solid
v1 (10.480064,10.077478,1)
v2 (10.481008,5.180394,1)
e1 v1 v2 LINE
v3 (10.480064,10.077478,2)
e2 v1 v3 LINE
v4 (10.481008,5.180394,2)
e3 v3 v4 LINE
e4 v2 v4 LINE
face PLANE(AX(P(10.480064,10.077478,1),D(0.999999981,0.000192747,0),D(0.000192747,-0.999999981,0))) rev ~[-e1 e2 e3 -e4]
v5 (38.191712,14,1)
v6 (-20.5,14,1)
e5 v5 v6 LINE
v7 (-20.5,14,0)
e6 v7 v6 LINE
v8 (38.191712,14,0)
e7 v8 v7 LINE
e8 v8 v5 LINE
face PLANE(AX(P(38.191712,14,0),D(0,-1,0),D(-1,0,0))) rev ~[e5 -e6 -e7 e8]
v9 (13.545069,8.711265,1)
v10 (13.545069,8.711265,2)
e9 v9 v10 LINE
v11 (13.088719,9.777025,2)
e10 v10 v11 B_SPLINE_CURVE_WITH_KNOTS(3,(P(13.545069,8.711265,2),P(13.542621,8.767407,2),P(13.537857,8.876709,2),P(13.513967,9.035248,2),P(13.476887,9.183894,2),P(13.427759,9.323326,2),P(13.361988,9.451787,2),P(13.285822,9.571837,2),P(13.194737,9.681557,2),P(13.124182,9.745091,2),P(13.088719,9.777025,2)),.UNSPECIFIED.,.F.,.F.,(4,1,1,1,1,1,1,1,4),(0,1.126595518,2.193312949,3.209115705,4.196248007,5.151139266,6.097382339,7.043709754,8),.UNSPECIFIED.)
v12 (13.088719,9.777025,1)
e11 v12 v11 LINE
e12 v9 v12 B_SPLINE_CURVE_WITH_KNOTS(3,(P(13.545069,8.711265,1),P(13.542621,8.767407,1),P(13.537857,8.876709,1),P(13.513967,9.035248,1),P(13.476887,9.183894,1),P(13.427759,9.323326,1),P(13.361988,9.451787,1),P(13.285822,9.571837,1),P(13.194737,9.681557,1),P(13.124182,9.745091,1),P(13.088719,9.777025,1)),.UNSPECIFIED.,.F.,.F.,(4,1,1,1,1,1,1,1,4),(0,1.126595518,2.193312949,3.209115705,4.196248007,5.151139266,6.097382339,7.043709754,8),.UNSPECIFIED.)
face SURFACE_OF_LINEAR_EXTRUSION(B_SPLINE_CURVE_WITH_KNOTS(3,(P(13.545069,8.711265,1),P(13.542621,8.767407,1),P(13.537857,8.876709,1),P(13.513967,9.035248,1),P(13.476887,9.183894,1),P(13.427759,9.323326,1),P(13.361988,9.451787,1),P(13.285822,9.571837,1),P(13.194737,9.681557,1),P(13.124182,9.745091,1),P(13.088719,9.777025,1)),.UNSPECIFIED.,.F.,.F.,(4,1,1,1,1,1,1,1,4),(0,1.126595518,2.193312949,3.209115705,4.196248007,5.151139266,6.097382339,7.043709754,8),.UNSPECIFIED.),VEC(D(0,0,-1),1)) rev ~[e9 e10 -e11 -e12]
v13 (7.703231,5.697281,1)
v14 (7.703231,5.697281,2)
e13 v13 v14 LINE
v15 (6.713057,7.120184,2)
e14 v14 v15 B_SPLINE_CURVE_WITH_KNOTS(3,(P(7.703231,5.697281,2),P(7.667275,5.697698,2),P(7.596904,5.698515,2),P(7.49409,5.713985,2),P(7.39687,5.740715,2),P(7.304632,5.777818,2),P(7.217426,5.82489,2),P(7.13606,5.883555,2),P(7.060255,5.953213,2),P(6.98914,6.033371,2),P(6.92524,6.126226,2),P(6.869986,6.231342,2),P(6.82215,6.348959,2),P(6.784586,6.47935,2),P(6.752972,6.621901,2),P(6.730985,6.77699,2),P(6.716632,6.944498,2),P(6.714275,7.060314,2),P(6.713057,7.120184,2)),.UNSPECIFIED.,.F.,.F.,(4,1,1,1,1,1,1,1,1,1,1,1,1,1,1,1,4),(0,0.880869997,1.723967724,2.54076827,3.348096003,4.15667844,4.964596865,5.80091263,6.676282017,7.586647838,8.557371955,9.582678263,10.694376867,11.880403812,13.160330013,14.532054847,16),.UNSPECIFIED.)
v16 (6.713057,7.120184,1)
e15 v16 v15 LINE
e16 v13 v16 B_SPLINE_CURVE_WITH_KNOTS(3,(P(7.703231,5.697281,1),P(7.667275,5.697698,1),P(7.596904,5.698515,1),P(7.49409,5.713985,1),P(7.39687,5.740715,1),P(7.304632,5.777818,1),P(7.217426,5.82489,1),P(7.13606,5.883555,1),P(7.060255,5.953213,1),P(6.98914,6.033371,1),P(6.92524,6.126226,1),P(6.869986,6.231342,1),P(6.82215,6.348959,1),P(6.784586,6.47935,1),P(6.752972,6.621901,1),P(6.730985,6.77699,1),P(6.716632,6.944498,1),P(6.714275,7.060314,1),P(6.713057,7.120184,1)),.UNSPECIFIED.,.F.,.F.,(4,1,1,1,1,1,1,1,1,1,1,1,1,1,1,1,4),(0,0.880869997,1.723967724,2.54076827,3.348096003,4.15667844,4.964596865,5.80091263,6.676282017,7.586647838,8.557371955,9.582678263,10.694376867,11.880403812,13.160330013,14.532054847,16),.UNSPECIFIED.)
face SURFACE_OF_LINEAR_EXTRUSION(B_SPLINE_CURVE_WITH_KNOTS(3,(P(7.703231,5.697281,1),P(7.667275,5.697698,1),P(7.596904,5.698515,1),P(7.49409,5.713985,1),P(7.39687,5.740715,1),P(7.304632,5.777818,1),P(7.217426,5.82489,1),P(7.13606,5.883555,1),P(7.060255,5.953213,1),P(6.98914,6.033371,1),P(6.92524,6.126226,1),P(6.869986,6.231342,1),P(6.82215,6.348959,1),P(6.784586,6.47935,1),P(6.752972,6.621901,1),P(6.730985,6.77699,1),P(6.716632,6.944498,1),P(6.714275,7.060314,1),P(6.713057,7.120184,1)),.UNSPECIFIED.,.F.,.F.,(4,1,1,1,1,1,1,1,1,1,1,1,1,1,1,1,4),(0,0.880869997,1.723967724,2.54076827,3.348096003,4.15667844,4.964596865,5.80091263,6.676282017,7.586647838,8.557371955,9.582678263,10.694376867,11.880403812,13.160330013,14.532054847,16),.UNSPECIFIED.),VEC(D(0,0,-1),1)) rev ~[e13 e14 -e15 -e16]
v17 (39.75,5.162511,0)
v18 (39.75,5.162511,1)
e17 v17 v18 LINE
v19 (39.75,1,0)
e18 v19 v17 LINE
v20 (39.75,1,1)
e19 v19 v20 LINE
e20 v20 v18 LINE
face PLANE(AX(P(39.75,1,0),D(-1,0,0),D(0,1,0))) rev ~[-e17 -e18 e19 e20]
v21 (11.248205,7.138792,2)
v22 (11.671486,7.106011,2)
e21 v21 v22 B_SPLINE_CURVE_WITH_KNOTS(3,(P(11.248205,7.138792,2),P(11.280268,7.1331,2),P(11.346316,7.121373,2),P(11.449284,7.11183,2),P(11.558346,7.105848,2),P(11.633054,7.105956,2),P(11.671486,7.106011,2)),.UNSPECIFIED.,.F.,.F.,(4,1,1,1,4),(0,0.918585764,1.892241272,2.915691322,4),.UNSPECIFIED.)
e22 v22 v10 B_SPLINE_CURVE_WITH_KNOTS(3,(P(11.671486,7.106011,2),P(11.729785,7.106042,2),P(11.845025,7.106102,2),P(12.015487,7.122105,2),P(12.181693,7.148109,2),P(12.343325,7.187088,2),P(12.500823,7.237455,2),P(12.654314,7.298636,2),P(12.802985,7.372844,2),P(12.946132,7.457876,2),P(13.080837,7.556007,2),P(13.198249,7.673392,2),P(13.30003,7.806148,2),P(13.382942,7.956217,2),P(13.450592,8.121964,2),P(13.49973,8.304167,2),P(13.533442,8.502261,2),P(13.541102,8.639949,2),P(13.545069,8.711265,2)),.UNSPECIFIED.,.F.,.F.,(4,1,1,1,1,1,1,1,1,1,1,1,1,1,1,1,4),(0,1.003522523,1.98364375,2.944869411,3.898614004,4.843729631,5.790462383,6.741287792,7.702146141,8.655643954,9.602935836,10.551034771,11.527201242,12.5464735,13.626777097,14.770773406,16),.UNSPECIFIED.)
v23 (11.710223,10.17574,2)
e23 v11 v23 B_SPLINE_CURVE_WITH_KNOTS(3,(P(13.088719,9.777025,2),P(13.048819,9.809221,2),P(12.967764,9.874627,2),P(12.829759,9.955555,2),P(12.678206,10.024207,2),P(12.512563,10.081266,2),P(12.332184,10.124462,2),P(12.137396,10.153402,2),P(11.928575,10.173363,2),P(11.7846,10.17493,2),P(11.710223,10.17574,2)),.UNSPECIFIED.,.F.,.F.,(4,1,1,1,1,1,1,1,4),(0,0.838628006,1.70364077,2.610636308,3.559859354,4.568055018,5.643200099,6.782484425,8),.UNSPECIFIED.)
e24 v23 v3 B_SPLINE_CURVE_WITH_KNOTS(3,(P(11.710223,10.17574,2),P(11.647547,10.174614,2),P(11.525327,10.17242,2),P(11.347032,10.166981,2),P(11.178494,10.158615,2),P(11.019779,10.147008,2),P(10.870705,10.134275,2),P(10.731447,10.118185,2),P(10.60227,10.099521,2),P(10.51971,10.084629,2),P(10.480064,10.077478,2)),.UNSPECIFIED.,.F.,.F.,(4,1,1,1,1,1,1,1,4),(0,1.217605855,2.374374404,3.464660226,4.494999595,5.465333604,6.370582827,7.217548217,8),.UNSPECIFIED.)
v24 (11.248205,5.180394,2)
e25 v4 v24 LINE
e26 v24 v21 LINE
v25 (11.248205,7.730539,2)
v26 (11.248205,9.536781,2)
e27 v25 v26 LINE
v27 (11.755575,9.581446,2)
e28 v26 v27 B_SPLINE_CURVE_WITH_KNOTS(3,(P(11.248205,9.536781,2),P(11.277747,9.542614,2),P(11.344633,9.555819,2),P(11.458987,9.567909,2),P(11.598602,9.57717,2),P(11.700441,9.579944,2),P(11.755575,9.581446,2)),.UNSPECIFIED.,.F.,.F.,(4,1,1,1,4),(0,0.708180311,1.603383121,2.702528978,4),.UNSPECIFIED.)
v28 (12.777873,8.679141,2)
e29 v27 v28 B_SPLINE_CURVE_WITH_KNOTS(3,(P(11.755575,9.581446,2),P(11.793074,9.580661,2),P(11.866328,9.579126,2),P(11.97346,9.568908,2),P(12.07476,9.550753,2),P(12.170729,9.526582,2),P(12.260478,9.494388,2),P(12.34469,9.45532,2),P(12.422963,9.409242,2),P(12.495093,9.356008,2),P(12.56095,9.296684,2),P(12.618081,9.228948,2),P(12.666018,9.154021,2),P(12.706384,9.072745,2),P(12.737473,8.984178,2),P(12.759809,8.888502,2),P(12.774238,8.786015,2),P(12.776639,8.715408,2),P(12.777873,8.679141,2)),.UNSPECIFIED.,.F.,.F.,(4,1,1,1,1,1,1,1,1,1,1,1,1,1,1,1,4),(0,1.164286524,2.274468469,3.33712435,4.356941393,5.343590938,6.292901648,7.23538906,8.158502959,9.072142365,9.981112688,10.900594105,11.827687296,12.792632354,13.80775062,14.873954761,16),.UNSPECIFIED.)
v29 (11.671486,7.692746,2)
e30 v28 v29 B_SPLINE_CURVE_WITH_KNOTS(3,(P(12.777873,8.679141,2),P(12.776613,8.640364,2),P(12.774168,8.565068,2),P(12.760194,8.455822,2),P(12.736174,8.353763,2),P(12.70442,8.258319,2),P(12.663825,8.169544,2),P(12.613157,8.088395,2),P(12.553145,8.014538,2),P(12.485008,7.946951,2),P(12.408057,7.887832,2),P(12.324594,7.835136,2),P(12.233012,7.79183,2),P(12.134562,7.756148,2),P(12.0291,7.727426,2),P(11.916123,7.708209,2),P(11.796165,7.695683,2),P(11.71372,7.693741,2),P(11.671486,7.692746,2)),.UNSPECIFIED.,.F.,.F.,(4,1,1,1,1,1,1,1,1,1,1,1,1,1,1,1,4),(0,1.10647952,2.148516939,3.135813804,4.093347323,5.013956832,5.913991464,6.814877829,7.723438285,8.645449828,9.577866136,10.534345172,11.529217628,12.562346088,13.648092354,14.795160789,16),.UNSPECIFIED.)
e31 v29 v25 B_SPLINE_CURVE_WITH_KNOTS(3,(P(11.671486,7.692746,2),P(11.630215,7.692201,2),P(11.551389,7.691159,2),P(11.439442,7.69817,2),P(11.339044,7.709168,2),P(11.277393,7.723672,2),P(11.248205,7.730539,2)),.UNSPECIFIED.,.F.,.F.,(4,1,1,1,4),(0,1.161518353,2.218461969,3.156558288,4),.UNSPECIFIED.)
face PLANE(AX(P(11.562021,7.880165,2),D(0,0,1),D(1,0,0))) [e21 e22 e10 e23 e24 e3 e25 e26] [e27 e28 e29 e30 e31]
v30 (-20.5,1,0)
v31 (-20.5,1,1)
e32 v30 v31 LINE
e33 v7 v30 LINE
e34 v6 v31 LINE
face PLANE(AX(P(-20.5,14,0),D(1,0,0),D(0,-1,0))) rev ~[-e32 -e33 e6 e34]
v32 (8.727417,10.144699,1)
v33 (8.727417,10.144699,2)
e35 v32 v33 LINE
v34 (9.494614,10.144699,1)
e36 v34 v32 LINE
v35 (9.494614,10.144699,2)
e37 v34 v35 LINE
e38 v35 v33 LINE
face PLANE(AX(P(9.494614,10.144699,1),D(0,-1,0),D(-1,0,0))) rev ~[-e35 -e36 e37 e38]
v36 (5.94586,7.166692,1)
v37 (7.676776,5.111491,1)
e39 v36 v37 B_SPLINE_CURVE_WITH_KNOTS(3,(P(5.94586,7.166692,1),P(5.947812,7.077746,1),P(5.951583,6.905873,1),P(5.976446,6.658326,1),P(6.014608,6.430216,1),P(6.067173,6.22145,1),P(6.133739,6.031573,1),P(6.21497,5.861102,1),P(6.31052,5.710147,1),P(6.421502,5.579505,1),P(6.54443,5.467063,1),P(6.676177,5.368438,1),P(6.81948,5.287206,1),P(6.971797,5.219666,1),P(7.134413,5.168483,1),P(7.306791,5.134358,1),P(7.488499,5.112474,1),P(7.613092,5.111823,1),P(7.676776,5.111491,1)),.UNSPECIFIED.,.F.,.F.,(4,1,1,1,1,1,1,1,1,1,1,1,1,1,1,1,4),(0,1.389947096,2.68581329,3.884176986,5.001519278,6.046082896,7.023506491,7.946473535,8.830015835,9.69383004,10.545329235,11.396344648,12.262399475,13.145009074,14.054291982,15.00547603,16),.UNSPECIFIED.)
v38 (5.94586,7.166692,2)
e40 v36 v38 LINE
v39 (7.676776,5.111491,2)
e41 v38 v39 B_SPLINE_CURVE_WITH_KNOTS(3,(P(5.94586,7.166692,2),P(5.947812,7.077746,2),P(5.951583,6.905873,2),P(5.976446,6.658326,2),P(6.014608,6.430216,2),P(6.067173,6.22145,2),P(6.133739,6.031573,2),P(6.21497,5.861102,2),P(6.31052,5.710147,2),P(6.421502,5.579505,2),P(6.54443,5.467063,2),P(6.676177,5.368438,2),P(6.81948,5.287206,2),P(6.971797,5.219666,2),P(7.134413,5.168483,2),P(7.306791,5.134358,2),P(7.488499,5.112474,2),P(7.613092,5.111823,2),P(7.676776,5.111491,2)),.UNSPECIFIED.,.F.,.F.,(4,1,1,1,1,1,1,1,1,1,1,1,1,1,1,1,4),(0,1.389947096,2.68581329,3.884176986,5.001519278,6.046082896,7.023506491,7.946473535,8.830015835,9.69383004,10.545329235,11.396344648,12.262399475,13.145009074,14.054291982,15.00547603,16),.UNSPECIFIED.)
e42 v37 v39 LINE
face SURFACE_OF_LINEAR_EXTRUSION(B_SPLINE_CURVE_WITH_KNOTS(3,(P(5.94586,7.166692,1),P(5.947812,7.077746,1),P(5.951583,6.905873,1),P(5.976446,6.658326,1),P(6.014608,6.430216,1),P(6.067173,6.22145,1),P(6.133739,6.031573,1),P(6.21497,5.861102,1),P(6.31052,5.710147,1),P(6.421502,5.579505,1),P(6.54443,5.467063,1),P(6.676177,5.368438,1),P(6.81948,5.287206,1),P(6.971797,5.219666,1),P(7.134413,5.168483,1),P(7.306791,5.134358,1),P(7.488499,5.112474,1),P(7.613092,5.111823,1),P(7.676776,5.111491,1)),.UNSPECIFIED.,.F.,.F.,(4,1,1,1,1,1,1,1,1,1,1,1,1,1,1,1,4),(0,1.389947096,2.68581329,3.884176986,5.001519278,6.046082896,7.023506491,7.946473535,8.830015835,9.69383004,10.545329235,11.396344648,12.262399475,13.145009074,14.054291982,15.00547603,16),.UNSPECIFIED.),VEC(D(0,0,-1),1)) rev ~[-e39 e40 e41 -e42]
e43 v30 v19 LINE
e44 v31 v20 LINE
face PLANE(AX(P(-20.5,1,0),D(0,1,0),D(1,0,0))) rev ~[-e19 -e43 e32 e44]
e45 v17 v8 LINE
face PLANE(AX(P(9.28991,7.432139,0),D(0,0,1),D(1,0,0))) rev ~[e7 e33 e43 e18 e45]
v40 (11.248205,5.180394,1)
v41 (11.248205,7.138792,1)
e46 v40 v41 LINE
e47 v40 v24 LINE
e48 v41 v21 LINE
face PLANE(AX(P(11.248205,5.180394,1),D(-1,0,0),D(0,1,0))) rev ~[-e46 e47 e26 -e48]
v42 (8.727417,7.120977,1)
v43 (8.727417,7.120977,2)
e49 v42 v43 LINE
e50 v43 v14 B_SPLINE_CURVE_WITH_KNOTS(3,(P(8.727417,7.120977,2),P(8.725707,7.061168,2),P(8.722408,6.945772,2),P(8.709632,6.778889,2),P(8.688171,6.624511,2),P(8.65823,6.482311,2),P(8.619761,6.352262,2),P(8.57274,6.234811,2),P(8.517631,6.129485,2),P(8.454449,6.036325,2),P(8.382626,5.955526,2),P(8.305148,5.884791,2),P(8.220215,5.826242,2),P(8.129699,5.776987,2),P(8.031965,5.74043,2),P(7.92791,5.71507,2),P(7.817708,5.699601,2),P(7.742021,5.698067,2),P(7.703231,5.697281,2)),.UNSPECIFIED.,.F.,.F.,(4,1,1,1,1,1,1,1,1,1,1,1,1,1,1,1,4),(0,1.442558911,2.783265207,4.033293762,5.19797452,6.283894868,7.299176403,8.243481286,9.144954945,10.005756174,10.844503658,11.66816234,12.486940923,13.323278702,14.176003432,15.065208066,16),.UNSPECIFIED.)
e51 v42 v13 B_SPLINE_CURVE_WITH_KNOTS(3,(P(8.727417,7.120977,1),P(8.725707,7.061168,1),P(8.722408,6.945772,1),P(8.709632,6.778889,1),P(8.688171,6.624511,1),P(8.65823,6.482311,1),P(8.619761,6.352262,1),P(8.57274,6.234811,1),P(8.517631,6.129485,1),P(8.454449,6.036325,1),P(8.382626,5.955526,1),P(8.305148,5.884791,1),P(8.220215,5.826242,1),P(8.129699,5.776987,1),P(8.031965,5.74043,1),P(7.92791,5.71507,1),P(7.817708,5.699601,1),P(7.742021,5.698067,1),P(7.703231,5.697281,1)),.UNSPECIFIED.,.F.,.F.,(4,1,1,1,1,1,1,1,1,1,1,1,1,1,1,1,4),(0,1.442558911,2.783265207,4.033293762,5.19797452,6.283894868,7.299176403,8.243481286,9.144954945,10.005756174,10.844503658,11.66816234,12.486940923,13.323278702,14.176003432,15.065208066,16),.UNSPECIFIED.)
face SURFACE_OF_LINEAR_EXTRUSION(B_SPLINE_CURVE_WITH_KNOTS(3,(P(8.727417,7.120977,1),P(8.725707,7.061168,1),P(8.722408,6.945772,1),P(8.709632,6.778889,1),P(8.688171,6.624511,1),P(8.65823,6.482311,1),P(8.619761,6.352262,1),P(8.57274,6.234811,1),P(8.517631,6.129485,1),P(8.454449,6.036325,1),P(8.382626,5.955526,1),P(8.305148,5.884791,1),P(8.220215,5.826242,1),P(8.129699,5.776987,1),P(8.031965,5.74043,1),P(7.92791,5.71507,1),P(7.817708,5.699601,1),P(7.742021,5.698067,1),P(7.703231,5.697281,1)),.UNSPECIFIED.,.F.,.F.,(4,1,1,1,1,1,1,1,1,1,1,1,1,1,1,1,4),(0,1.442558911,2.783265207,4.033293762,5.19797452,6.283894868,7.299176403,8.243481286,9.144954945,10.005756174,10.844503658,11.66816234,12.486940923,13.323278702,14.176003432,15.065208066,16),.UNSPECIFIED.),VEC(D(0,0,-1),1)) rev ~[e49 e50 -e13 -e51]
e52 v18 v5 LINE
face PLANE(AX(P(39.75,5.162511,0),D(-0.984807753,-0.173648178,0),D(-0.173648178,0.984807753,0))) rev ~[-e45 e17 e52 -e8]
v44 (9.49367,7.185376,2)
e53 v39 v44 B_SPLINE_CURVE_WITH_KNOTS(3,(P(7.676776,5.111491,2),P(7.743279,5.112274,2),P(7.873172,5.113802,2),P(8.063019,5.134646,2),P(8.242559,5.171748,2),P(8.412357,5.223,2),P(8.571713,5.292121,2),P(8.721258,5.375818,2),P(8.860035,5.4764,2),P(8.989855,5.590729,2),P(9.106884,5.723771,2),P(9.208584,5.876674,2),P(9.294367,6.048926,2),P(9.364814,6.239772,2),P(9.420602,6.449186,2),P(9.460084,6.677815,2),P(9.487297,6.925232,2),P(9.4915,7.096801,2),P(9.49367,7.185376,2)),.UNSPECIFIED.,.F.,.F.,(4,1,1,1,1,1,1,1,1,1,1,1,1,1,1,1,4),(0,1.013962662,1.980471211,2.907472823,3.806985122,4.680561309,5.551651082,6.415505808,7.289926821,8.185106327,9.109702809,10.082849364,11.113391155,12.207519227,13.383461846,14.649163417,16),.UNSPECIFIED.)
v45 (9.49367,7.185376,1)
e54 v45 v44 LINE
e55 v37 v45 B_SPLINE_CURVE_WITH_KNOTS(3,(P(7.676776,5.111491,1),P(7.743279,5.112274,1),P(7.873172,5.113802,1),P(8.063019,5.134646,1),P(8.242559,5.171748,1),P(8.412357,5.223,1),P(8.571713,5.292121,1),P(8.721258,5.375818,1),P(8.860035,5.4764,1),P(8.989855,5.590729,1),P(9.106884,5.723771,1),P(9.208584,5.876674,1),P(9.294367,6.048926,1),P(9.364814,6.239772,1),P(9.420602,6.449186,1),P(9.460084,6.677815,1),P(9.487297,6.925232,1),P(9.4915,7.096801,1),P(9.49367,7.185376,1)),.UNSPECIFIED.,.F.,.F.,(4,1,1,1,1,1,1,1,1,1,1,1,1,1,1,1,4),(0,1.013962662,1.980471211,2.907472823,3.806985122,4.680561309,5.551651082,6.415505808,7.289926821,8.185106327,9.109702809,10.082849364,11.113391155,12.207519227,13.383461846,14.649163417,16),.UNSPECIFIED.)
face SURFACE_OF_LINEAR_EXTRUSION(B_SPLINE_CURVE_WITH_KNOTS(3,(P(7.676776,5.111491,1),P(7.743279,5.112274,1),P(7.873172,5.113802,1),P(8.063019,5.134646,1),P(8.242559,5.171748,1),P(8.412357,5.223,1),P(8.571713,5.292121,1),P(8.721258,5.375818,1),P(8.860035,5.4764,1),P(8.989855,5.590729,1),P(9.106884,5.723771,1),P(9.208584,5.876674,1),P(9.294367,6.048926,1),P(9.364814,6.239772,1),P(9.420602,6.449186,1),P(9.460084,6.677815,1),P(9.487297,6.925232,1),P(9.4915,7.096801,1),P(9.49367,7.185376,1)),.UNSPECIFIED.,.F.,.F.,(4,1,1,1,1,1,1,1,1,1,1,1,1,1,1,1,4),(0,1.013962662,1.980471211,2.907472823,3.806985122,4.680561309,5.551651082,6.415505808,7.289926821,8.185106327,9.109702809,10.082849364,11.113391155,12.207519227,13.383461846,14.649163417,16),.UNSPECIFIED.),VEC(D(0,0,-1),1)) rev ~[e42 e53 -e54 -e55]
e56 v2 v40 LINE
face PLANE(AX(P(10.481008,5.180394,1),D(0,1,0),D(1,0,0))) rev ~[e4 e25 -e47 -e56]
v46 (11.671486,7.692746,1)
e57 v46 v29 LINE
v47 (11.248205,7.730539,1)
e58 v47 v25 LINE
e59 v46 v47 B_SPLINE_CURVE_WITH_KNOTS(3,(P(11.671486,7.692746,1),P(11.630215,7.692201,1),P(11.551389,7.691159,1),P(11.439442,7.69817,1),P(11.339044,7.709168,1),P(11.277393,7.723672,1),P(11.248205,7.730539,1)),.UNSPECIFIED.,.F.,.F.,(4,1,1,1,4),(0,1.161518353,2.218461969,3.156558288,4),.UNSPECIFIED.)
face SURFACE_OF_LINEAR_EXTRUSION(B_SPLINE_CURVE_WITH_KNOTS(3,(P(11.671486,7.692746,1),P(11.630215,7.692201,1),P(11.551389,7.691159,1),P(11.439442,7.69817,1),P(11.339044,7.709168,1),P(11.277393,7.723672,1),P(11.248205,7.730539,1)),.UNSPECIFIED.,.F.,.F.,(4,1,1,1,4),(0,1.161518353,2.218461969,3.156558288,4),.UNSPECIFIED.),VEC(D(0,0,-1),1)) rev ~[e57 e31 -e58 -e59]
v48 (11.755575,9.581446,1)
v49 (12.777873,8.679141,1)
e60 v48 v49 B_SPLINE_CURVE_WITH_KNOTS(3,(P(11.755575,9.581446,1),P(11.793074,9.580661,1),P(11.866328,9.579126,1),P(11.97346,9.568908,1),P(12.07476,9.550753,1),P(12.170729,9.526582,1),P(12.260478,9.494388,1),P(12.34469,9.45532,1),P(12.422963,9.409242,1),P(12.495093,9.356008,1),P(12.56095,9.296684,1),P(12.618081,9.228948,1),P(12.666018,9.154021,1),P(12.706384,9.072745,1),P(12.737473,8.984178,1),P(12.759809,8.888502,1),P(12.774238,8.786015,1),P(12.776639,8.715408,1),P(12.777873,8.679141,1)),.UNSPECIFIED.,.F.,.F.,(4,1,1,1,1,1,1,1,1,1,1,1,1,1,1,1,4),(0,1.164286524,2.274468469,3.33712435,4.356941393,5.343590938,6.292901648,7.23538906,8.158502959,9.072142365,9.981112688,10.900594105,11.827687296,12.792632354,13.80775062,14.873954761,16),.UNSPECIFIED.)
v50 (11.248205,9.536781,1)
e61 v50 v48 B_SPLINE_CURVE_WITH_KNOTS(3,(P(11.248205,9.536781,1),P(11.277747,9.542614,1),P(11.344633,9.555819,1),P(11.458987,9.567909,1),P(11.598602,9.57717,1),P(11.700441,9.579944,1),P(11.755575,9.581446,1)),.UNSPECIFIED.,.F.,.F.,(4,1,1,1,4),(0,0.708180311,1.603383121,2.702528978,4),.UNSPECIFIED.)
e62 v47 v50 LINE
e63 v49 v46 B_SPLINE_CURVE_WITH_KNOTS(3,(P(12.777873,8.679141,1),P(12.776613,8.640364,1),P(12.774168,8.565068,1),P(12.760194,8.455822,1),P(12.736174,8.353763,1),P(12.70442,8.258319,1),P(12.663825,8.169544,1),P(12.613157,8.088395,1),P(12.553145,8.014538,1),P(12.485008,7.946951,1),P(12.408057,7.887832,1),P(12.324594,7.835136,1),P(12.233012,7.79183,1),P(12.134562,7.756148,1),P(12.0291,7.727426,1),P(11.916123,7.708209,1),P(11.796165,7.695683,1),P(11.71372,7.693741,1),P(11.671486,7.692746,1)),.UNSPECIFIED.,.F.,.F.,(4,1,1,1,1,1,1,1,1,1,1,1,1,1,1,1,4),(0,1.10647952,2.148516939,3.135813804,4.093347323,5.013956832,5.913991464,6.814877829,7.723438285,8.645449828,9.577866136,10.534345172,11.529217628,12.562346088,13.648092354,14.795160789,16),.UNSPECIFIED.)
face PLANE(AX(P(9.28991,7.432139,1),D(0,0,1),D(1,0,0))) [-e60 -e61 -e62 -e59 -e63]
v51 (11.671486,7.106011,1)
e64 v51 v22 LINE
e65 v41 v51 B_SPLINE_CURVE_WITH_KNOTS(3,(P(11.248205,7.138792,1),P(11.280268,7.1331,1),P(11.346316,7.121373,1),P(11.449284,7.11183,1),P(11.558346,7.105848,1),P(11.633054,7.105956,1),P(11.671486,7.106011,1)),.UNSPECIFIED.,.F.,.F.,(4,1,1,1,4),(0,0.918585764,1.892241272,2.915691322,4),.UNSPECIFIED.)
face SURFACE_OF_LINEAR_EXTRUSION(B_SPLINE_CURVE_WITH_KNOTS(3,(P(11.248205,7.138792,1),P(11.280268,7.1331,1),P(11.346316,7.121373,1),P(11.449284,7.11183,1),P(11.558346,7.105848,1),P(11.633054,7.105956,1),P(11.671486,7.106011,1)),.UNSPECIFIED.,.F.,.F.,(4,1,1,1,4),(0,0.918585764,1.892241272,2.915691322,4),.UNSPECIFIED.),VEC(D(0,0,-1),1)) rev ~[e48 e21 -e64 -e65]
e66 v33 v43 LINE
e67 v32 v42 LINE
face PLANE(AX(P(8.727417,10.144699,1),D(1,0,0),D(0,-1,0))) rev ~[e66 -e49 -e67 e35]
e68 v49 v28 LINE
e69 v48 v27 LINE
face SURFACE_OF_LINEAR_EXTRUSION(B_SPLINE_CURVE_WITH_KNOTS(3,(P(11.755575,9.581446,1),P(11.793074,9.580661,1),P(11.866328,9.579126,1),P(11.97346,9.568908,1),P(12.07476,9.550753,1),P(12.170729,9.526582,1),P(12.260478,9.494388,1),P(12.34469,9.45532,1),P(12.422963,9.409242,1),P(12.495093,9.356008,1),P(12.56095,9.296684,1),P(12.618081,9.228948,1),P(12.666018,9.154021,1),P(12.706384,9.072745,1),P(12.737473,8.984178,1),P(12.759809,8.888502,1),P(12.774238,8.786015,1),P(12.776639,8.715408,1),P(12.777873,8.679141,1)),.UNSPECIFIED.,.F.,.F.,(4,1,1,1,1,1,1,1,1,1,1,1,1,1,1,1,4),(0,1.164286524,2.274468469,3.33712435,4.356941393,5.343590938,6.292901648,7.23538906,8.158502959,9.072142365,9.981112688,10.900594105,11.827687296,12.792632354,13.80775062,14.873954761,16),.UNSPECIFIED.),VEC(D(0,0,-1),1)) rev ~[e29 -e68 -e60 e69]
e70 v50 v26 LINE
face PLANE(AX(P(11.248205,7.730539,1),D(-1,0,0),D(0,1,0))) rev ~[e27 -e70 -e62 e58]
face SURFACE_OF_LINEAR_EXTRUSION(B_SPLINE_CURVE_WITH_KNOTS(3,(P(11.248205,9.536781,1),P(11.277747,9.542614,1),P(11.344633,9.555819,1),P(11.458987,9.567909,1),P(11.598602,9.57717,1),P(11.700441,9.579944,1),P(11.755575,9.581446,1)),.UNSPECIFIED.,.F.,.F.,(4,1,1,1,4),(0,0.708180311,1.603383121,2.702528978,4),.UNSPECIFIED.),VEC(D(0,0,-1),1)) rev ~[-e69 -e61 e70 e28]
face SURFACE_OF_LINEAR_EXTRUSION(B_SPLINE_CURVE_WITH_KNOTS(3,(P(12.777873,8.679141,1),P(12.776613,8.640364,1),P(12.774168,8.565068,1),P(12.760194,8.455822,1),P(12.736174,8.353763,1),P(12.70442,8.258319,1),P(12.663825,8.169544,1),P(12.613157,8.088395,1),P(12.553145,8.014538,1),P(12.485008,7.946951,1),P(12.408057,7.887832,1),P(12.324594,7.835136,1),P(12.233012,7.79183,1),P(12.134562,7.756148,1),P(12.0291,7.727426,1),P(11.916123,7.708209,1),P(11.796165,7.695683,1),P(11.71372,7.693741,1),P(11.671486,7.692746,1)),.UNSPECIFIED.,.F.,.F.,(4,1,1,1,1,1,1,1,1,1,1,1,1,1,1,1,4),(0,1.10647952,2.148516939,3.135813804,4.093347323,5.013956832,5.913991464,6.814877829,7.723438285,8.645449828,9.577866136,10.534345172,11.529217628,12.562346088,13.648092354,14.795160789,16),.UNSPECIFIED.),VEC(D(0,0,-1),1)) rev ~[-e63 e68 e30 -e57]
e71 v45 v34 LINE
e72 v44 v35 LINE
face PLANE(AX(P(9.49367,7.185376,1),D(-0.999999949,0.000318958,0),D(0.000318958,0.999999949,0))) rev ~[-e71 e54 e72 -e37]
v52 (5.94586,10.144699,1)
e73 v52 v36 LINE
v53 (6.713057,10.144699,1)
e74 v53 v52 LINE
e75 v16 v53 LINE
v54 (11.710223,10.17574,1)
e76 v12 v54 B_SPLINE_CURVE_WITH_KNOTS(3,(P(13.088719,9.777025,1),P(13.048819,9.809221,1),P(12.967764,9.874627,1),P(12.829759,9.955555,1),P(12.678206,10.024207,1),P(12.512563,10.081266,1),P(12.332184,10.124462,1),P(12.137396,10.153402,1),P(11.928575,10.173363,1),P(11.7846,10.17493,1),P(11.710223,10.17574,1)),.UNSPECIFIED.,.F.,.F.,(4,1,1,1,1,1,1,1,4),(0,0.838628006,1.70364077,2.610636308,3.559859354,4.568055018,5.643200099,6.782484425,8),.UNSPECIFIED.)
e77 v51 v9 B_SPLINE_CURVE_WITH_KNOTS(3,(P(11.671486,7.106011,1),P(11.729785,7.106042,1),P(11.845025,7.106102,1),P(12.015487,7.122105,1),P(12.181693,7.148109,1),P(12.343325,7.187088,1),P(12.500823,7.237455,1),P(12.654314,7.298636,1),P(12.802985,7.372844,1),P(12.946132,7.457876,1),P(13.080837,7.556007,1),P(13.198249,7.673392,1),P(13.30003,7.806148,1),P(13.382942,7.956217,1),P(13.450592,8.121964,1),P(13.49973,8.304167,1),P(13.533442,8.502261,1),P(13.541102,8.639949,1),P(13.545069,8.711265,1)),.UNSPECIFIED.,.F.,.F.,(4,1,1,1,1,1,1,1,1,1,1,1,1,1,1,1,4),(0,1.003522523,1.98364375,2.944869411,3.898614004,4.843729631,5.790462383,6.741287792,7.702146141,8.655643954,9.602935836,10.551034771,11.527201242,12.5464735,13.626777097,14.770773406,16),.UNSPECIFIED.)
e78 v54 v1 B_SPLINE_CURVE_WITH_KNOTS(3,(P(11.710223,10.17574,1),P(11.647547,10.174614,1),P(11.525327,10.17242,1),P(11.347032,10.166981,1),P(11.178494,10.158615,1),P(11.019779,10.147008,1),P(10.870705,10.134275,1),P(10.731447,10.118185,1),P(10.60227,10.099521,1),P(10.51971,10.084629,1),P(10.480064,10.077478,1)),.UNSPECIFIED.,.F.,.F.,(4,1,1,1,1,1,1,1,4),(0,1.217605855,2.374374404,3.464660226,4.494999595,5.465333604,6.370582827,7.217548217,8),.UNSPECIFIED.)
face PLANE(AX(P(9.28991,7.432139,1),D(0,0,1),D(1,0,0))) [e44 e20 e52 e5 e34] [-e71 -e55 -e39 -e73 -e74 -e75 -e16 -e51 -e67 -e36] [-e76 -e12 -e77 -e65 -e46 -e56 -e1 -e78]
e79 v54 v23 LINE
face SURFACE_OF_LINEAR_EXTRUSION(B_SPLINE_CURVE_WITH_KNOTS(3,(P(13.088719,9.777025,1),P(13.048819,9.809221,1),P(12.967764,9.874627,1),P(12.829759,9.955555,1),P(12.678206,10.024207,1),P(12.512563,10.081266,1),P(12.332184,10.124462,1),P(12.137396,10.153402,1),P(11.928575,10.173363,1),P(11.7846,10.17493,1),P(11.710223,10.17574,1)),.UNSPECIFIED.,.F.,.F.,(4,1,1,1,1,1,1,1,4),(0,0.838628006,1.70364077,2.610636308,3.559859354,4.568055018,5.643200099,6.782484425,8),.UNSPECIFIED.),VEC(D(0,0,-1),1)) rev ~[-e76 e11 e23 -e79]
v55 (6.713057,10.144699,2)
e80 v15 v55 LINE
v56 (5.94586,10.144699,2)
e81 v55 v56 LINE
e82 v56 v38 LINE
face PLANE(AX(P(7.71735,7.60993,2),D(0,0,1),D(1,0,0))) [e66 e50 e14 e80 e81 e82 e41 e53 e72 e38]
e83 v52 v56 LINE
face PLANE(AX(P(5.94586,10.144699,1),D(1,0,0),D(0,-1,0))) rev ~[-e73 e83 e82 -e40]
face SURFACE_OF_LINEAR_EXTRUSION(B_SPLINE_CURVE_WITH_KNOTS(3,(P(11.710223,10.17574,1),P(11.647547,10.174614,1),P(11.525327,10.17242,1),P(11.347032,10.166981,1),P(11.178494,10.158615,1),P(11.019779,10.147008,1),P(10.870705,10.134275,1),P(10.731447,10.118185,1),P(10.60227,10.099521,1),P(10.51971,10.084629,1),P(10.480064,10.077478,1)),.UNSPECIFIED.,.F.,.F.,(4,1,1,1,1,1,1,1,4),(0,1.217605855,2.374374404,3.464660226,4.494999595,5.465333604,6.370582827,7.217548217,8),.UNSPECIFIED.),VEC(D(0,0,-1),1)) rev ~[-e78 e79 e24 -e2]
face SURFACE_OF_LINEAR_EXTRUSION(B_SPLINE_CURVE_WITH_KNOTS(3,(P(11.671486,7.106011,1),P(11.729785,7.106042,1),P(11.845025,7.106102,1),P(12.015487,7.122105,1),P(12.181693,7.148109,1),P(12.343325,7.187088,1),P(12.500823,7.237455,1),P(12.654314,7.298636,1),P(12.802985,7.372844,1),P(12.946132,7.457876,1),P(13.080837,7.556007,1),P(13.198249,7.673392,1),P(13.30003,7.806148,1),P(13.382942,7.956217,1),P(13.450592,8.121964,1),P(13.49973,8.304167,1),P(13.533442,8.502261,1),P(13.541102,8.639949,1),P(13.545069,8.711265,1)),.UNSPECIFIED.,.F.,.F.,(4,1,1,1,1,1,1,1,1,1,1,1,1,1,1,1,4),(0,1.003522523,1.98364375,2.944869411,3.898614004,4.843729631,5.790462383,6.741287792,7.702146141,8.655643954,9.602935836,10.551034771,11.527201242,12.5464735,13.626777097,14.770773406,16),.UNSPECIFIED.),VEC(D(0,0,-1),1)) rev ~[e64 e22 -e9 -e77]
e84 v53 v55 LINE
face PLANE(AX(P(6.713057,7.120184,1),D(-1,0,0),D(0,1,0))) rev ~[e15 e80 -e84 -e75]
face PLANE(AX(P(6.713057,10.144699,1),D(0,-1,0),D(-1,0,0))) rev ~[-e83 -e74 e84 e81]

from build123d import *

# Parameters (mm, degrees)
EXTRUDE_1_DEPTH = 1
EXTRUDE_2_DEPTH = 1


with BuildPart() as part:
    # 草图2 → 凸台-拉伸1 (new body)
    with BuildSketch(Plane.XY):
        Polygon((-20.5, 1), (39.75, 1), (39.75, 5.162511336), (38.191712307, 14), (-20.5, 14), align=None)
    extrude(amount=EXTRUDE_1_DEPTH)

    # 草图3 → 凸台-拉伸2 (add)
    # profile 1 of 2: a face of its own
    with BuildSketch(Plane.XY.offset(1)):
        with BuildLine():
            Line((10.481008306, 5.180393764), (11.248205137, 5.180393764))
            Line((11.248205137, 5.180393764), (11.248205137, 7.138792231))
            add(Edge.make_bspline(
                [(11.248205137, 7.138792231), (11.280268125, 7.133099507), (11.346316296, 7.121372777), (11.449283839, 7.111830081), (11.558346323, 7.105847724), (11.633053511, 7.105955746), (11.671485638, 7.106011317)],
                knots=[0, 0, 0, 0, 0.918585764, 1.892241272, 2.915691322, 4, 4, 4, 4], degree=3))
            add(Edge.make_bspline(
                [(11.671485638, 7.106011317), (11.729785366, 7.106041643), (11.845025321, 7.106101586), (12.015487029, 7.122104566), (12.181692953, 7.148109054), (12.343324735, 7.187087519), (12.50082336, 7.237455337), (12.654314168, 7.298636251), (12.80298521, 7.372843607), (12.946131503, 7.457876132), (13.080836859, 7.556007269), (13.198248856, 7.673392446), (13.300029776, 7.806147684), (13.3829419, 7.956216651), (13.450592093, 8.121964161), (13.499729538, 8.304167199), (13.533442208, 8.502261401), (13.541101546, 8.639948748), (13.545068751, 8.711264826)],
                knots=[0, 0, 0, 0, 1.003522523, 1.98364375, 2.944869411, 3.898614004, 4.843729631, 5.790462383, 6.741287792, 7.702146141, 8.655643954, 9.602935836, 10.551034771, 11.527201242, 12.5464735, 13.626777097, 14.770773406, 16, 16, 16, 16], degree=3))
            add(Edge.make_bspline(
                [(13.545068751, 8.711264826), (13.542621314, 8.767407479), (13.537856522, 8.876708825), (13.513966748, 9.035247709), (13.476887205, 9.183894353), (13.427758946, 9.323326261), (13.361987826, 9.451787215), (13.285822021, 9.571837482), (13.194736975, 9.681556892), (13.124181783, 9.745091174), (13.08871946, 9.77702466)],
                knots=[0, 0, 0, 0, 1.126595518, 2.193312949, 3.209115705, 4.196248007, 5.151139266, 6.097382339, 7.043709754, 8, 8, 8, 8], degree=3))
            add(Edge.make_bspline(
                [(13.08871946, 9.77702466), (13.048819299, 9.809220998), (12.967763644, 9.874626629), (12.829758648, 9.955555414), (12.678205789, 10.024206618), (12.512562725, 10.081265594), (12.332183639, 10.124461936), (12.1373955, 10.153402083), (11.928575344, 10.173362723), (11.784600384, 10.174930082), (11.710223363, 10.175739775)],
                knots=[0, 0, 0, 0, 0.838628006, 1.70364077, 2.610636308, 3.559859354, 4.568055018, 5.643200099, 6.782484425, 8, 8, 8, 8], degree=3))
            add(Edge.make_bspline(
                [(11.710223363, 10.175739775), (11.647547246, 10.17461434), (11.525326605, 10.172419704), (11.347031706, 10.166981234), (11.178493577, 10.158615294), (11.019779498, 10.147008031), (10.870704987, 10.134275133), (10.731447222, 10.118184966), (10.602269579, 10.099521255), (10.519709866, 10.084629366), (10.480064406, 10.07747823)],
                knots=[0, 0, 0, 0, 1.217605855, 2.374374404, 3.464660226, 4.494999595, 5.465333604, 6.370582827, 7.217548217, 8, 8, 8, 8], degree=3))
            Line((10.480064406, 10.07747823), (10.481008306, 5.180393764))
        make_face()
        with BuildLine():
            add(Edge.make_bspline(
                [(11.248205137, 9.536781383), (11.27774721, 9.542613746), (11.344633086, 9.555818735), (11.458986924, 9.567908637), (11.598601931, 9.577170189), (11.700441396, 9.579944465), (11.755574845, 9.581446392)],
                knots=[0, 0, 0, 0, 0.708180311, 1.603383121, 2.702528978, 4, 4, 4, 4], degree=3))
            add(Edge.make_bspline(
                [(11.755574845, 9.581446392), (11.793073561, 9.580660892), (11.86632842, 9.579126393), (11.973460101, 9.568908362), (12.074759776, 9.550753083), (12.17072877, 9.526581699), (12.260478405, 9.494387574), (12.34469003, 9.455320337), (12.422963445, 9.40924223), (12.495093205, 9.356007774), (12.560949572, 9.296684339), (12.618080877, 9.228947702), (12.666017981, 9.154020887), (12.706384443, 9.072744901), (12.737473184, 8.984178001), (12.75980904, 8.888502208), (12.77423784, 8.786014927), (12.776639324, 8.715407993), (12.777872842, 8.679140859)],
                knots=[0, 0, 0, 0, 1.164286524, 2.274468469, 3.33712435, 4.356941393, 5.343590938, 6.292901648, 7.23538906, 8.158502959, 9.072142365, 9.981112688, 10.900594105, 11.827687296, 12.792632354, 13.80775062, 14.873954761, 16, 16, 16, 16], degree=3))
            add(Edge.make_bspline(
                [(12.777872842, 8.679140859), (12.776613433, 8.640363707), (12.774167963, 8.56506781), (12.76019411, 8.455822494), (12.736174009, 8.3537626), (12.704419521, 8.258318665), (12.663824966, 8.169544292), (12.613156623, 8.088395241), (12.553144539, 8.014538438), (12.485007553, 7.946950655), (12.408057089, 7.887831849), (12.324594044, 7.835136167), (12.233012254, 7.791830384), (12.134562282, 7.756148342), (12.029100063, 7.727426213), (11.916122917, 7.708209363), (11.796164858, 7.695683181), (11.713720416, 7.693741042), (11.671485638, 7.692746119)],
                knots=[0, 0, 0, 0, 1.10647952, 2.148516939, 3.135813804, 4.093347323, 5.013956832, 5.913991464, 6.814877829, 7.723438285, 8.645449828, 9.577866136, 10.534345172, 11.529217628, 12.562346088, 13.648092354, 14.795160789, 16, 16, 16, 16], degree=3))
            add(Edge.make_bspline(
                [(11.671485638, 7.692746119), (11.63021482, 7.692200684), (11.551388911, 7.691158922), (11.439442024, 7.698169967), (11.339043734, 7.709168238), (11.277392814, 7.723672298), (11.248205137, 7.730539021)],
                knots=[0, 0, 0, 0, 1.161518353, 2.218461969, 3.156558288, 4, 4, 4, 4], degree=3))
            Line((11.248205137, 7.730539021), (11.248205137, 9.536781383))
        make_face(mode=Mode.SUBTRACT)
    # profile 2 of 2: a face of its own
    with BuildSketch(Plane.XY.offset(1)):
        with BuildLine():
            Line((9.494613566, 10.144699032), (8.727416734, 10.144699032))
            Line((8.727416734, 10.144699032), (8.727416734, 7.120977159))
            add(Edge.make_bspline(
                [(8.727416734, 7.120977159), (8.72570679, 7.061167821), (8.722407633, 6.945772013), (8.709631742, 6.778889408), (8.688170718, 6.624510706), (8.658230337, 6.482310653), (8.619760507, 6.352261672), (8.572739739, 6.23481111), (8.517630595, 6.129485265), (8.454448576, 6.036324521), (8.382626209, 5.95552631), (8.305148113, 5.884790711), (8.220215209, 5.826242463), (8.129699085, 5.776987395), (8.031964883, 5.740430268), (7.92791034, 5.715069684), (7.817708054, 5.699600995), (7.742020532, 5.698067043), (7.703230938, 5.697280898)],
                knots=[0, 0, 0, 0, 1.442558911, 2.783265207, 4.033293762, 5.19797452, 6.283894868, 7.299176403, 8.243481286, 9.144954945, 10.005756174, 10.844503658, 11.66816234, 12.486940923, 13.323278702, 14.176003432, 15.065208066, 16, 16, 16, 16], degree=3))
            add(Edge.make_bspline(
                [(7.703230938, 5.697280898), (7.667274667, 5.697698259), (7.596903954, 5.698515082), (7.494090027, 5.713985225), (7.396870282, 5.740714967), (7.304631521, 5.777818192), (7.21742606, 5.824889909), (7.136059616, 5.88355453), (7.060255296, 5.953212566), (6.989139578, 6.033370677), (6.925239634, 6.126225718), (6.869986093, 6.231342171), (6.822149712, 6.348958788), (6.784585577, 6.479350068), (6.752971554, 6.621900529), (6.730985424, 6.776989679), (6.716631756, 6.944497921), (6.714275141, 7.060313631), (6.713056908, 7.120183655)],
                knots=[0, 0, 0, 0, 0.880869997, 1.723967724, 2.54076827, 3.348096003, 4.15667844, 4.964596865, 5.80091263, 6.676282017, 7.586647838, 8.557371955, 9.582678263, 10.694376867, 11.880403812, 13.160330013, 14.532054847, 16, 16, 16, 16], degree=3))
            Line((6.713056908, 7.120183655), (6.713056908, 10.144699032))
            Line((6.713056908, 10.144699032), (5.945860076, 10.144699032))
            Line((5.945860076, 10.144699032), (5.945860076, 7.166692176))
            add(Edge.make_bspline(
                [(5.945860076, 7.166692176), (5.947811599, 7.077745647), (5.951582552, 6.905873082), (5.976446082, 6.658325939), (6.014608186, 6.430215629), (6.067172501, 6.221450241), (6.133738874, 6.031572757), (6.214969708, 5.861101508), (6.31051972, 5.710146918), (6.421501903, 5.57950536), (6.544430093, 5.46706325), (6.67617651, 5.36843753), (6.819480172, 5.287205614), (6.971797177, 5.219666165), (7.13441307, 5.168482563), (7.306791456, 5.134357698), (7.4884993, 5.112474089), (7.613091953, 5.111823473), (7.676775907, 5.111490919)],
                knots=[0, 0, 0, 0, 1.389947096, 2.68581329, 3.884176986, 5.001519278, 6.046082896, 7.023506491, 7.946473535, 8.830015835, 9.69383004, 10.545329235, 11.396344648, 12.262399475, 13.145009074, 14.054291982, 15.00547603, 16, 16, 16, 16], degree=3))
            add(Edge.make_bspline(
                [(7.676775907, 5.111490919), (7.743278786, 5.112273586), (7.873172166, 5.113802291), (8.063018751, 5.134646007), (8.242559022, 5.17174834), (8.412356909, 5.222999832), (8.571712956, 5.292121054), (8.721258262, 5.375818025), (8.860035095, 5.476399667), (8.989854742, 5.590728631), (9.106884057, 5.723770561), (9.2085838, 5.876673755), (9.294366864, 6.048926123), (9.364814239, 6.239771985), (9.420601689, 6.449185846), (9.460084235, 6.67781481), (9.487297433, 6.925232139), (9.491500008, 7.096800861), (9.493669666, 7.185376411)],
                knots=[0, 0, 0, 0, 1.013962662, 1.980471211, 2.907472823, 3.806985122, 4.680561309, 5.551651082, 6.415505808, 7.289926821, 8.185106327, 9.109702809, 10.082849364, 11.113391155, 12.207519227, 13.383461846, 14.649163417, 16, 16, 16, 16], degree=3))
            Line((9.493669666, 7.185376411), (9.494613566, 10.144699032))
        make_face()
    extrude(amount=EXTRUDE_2_DEPTH)


solid = part.part
